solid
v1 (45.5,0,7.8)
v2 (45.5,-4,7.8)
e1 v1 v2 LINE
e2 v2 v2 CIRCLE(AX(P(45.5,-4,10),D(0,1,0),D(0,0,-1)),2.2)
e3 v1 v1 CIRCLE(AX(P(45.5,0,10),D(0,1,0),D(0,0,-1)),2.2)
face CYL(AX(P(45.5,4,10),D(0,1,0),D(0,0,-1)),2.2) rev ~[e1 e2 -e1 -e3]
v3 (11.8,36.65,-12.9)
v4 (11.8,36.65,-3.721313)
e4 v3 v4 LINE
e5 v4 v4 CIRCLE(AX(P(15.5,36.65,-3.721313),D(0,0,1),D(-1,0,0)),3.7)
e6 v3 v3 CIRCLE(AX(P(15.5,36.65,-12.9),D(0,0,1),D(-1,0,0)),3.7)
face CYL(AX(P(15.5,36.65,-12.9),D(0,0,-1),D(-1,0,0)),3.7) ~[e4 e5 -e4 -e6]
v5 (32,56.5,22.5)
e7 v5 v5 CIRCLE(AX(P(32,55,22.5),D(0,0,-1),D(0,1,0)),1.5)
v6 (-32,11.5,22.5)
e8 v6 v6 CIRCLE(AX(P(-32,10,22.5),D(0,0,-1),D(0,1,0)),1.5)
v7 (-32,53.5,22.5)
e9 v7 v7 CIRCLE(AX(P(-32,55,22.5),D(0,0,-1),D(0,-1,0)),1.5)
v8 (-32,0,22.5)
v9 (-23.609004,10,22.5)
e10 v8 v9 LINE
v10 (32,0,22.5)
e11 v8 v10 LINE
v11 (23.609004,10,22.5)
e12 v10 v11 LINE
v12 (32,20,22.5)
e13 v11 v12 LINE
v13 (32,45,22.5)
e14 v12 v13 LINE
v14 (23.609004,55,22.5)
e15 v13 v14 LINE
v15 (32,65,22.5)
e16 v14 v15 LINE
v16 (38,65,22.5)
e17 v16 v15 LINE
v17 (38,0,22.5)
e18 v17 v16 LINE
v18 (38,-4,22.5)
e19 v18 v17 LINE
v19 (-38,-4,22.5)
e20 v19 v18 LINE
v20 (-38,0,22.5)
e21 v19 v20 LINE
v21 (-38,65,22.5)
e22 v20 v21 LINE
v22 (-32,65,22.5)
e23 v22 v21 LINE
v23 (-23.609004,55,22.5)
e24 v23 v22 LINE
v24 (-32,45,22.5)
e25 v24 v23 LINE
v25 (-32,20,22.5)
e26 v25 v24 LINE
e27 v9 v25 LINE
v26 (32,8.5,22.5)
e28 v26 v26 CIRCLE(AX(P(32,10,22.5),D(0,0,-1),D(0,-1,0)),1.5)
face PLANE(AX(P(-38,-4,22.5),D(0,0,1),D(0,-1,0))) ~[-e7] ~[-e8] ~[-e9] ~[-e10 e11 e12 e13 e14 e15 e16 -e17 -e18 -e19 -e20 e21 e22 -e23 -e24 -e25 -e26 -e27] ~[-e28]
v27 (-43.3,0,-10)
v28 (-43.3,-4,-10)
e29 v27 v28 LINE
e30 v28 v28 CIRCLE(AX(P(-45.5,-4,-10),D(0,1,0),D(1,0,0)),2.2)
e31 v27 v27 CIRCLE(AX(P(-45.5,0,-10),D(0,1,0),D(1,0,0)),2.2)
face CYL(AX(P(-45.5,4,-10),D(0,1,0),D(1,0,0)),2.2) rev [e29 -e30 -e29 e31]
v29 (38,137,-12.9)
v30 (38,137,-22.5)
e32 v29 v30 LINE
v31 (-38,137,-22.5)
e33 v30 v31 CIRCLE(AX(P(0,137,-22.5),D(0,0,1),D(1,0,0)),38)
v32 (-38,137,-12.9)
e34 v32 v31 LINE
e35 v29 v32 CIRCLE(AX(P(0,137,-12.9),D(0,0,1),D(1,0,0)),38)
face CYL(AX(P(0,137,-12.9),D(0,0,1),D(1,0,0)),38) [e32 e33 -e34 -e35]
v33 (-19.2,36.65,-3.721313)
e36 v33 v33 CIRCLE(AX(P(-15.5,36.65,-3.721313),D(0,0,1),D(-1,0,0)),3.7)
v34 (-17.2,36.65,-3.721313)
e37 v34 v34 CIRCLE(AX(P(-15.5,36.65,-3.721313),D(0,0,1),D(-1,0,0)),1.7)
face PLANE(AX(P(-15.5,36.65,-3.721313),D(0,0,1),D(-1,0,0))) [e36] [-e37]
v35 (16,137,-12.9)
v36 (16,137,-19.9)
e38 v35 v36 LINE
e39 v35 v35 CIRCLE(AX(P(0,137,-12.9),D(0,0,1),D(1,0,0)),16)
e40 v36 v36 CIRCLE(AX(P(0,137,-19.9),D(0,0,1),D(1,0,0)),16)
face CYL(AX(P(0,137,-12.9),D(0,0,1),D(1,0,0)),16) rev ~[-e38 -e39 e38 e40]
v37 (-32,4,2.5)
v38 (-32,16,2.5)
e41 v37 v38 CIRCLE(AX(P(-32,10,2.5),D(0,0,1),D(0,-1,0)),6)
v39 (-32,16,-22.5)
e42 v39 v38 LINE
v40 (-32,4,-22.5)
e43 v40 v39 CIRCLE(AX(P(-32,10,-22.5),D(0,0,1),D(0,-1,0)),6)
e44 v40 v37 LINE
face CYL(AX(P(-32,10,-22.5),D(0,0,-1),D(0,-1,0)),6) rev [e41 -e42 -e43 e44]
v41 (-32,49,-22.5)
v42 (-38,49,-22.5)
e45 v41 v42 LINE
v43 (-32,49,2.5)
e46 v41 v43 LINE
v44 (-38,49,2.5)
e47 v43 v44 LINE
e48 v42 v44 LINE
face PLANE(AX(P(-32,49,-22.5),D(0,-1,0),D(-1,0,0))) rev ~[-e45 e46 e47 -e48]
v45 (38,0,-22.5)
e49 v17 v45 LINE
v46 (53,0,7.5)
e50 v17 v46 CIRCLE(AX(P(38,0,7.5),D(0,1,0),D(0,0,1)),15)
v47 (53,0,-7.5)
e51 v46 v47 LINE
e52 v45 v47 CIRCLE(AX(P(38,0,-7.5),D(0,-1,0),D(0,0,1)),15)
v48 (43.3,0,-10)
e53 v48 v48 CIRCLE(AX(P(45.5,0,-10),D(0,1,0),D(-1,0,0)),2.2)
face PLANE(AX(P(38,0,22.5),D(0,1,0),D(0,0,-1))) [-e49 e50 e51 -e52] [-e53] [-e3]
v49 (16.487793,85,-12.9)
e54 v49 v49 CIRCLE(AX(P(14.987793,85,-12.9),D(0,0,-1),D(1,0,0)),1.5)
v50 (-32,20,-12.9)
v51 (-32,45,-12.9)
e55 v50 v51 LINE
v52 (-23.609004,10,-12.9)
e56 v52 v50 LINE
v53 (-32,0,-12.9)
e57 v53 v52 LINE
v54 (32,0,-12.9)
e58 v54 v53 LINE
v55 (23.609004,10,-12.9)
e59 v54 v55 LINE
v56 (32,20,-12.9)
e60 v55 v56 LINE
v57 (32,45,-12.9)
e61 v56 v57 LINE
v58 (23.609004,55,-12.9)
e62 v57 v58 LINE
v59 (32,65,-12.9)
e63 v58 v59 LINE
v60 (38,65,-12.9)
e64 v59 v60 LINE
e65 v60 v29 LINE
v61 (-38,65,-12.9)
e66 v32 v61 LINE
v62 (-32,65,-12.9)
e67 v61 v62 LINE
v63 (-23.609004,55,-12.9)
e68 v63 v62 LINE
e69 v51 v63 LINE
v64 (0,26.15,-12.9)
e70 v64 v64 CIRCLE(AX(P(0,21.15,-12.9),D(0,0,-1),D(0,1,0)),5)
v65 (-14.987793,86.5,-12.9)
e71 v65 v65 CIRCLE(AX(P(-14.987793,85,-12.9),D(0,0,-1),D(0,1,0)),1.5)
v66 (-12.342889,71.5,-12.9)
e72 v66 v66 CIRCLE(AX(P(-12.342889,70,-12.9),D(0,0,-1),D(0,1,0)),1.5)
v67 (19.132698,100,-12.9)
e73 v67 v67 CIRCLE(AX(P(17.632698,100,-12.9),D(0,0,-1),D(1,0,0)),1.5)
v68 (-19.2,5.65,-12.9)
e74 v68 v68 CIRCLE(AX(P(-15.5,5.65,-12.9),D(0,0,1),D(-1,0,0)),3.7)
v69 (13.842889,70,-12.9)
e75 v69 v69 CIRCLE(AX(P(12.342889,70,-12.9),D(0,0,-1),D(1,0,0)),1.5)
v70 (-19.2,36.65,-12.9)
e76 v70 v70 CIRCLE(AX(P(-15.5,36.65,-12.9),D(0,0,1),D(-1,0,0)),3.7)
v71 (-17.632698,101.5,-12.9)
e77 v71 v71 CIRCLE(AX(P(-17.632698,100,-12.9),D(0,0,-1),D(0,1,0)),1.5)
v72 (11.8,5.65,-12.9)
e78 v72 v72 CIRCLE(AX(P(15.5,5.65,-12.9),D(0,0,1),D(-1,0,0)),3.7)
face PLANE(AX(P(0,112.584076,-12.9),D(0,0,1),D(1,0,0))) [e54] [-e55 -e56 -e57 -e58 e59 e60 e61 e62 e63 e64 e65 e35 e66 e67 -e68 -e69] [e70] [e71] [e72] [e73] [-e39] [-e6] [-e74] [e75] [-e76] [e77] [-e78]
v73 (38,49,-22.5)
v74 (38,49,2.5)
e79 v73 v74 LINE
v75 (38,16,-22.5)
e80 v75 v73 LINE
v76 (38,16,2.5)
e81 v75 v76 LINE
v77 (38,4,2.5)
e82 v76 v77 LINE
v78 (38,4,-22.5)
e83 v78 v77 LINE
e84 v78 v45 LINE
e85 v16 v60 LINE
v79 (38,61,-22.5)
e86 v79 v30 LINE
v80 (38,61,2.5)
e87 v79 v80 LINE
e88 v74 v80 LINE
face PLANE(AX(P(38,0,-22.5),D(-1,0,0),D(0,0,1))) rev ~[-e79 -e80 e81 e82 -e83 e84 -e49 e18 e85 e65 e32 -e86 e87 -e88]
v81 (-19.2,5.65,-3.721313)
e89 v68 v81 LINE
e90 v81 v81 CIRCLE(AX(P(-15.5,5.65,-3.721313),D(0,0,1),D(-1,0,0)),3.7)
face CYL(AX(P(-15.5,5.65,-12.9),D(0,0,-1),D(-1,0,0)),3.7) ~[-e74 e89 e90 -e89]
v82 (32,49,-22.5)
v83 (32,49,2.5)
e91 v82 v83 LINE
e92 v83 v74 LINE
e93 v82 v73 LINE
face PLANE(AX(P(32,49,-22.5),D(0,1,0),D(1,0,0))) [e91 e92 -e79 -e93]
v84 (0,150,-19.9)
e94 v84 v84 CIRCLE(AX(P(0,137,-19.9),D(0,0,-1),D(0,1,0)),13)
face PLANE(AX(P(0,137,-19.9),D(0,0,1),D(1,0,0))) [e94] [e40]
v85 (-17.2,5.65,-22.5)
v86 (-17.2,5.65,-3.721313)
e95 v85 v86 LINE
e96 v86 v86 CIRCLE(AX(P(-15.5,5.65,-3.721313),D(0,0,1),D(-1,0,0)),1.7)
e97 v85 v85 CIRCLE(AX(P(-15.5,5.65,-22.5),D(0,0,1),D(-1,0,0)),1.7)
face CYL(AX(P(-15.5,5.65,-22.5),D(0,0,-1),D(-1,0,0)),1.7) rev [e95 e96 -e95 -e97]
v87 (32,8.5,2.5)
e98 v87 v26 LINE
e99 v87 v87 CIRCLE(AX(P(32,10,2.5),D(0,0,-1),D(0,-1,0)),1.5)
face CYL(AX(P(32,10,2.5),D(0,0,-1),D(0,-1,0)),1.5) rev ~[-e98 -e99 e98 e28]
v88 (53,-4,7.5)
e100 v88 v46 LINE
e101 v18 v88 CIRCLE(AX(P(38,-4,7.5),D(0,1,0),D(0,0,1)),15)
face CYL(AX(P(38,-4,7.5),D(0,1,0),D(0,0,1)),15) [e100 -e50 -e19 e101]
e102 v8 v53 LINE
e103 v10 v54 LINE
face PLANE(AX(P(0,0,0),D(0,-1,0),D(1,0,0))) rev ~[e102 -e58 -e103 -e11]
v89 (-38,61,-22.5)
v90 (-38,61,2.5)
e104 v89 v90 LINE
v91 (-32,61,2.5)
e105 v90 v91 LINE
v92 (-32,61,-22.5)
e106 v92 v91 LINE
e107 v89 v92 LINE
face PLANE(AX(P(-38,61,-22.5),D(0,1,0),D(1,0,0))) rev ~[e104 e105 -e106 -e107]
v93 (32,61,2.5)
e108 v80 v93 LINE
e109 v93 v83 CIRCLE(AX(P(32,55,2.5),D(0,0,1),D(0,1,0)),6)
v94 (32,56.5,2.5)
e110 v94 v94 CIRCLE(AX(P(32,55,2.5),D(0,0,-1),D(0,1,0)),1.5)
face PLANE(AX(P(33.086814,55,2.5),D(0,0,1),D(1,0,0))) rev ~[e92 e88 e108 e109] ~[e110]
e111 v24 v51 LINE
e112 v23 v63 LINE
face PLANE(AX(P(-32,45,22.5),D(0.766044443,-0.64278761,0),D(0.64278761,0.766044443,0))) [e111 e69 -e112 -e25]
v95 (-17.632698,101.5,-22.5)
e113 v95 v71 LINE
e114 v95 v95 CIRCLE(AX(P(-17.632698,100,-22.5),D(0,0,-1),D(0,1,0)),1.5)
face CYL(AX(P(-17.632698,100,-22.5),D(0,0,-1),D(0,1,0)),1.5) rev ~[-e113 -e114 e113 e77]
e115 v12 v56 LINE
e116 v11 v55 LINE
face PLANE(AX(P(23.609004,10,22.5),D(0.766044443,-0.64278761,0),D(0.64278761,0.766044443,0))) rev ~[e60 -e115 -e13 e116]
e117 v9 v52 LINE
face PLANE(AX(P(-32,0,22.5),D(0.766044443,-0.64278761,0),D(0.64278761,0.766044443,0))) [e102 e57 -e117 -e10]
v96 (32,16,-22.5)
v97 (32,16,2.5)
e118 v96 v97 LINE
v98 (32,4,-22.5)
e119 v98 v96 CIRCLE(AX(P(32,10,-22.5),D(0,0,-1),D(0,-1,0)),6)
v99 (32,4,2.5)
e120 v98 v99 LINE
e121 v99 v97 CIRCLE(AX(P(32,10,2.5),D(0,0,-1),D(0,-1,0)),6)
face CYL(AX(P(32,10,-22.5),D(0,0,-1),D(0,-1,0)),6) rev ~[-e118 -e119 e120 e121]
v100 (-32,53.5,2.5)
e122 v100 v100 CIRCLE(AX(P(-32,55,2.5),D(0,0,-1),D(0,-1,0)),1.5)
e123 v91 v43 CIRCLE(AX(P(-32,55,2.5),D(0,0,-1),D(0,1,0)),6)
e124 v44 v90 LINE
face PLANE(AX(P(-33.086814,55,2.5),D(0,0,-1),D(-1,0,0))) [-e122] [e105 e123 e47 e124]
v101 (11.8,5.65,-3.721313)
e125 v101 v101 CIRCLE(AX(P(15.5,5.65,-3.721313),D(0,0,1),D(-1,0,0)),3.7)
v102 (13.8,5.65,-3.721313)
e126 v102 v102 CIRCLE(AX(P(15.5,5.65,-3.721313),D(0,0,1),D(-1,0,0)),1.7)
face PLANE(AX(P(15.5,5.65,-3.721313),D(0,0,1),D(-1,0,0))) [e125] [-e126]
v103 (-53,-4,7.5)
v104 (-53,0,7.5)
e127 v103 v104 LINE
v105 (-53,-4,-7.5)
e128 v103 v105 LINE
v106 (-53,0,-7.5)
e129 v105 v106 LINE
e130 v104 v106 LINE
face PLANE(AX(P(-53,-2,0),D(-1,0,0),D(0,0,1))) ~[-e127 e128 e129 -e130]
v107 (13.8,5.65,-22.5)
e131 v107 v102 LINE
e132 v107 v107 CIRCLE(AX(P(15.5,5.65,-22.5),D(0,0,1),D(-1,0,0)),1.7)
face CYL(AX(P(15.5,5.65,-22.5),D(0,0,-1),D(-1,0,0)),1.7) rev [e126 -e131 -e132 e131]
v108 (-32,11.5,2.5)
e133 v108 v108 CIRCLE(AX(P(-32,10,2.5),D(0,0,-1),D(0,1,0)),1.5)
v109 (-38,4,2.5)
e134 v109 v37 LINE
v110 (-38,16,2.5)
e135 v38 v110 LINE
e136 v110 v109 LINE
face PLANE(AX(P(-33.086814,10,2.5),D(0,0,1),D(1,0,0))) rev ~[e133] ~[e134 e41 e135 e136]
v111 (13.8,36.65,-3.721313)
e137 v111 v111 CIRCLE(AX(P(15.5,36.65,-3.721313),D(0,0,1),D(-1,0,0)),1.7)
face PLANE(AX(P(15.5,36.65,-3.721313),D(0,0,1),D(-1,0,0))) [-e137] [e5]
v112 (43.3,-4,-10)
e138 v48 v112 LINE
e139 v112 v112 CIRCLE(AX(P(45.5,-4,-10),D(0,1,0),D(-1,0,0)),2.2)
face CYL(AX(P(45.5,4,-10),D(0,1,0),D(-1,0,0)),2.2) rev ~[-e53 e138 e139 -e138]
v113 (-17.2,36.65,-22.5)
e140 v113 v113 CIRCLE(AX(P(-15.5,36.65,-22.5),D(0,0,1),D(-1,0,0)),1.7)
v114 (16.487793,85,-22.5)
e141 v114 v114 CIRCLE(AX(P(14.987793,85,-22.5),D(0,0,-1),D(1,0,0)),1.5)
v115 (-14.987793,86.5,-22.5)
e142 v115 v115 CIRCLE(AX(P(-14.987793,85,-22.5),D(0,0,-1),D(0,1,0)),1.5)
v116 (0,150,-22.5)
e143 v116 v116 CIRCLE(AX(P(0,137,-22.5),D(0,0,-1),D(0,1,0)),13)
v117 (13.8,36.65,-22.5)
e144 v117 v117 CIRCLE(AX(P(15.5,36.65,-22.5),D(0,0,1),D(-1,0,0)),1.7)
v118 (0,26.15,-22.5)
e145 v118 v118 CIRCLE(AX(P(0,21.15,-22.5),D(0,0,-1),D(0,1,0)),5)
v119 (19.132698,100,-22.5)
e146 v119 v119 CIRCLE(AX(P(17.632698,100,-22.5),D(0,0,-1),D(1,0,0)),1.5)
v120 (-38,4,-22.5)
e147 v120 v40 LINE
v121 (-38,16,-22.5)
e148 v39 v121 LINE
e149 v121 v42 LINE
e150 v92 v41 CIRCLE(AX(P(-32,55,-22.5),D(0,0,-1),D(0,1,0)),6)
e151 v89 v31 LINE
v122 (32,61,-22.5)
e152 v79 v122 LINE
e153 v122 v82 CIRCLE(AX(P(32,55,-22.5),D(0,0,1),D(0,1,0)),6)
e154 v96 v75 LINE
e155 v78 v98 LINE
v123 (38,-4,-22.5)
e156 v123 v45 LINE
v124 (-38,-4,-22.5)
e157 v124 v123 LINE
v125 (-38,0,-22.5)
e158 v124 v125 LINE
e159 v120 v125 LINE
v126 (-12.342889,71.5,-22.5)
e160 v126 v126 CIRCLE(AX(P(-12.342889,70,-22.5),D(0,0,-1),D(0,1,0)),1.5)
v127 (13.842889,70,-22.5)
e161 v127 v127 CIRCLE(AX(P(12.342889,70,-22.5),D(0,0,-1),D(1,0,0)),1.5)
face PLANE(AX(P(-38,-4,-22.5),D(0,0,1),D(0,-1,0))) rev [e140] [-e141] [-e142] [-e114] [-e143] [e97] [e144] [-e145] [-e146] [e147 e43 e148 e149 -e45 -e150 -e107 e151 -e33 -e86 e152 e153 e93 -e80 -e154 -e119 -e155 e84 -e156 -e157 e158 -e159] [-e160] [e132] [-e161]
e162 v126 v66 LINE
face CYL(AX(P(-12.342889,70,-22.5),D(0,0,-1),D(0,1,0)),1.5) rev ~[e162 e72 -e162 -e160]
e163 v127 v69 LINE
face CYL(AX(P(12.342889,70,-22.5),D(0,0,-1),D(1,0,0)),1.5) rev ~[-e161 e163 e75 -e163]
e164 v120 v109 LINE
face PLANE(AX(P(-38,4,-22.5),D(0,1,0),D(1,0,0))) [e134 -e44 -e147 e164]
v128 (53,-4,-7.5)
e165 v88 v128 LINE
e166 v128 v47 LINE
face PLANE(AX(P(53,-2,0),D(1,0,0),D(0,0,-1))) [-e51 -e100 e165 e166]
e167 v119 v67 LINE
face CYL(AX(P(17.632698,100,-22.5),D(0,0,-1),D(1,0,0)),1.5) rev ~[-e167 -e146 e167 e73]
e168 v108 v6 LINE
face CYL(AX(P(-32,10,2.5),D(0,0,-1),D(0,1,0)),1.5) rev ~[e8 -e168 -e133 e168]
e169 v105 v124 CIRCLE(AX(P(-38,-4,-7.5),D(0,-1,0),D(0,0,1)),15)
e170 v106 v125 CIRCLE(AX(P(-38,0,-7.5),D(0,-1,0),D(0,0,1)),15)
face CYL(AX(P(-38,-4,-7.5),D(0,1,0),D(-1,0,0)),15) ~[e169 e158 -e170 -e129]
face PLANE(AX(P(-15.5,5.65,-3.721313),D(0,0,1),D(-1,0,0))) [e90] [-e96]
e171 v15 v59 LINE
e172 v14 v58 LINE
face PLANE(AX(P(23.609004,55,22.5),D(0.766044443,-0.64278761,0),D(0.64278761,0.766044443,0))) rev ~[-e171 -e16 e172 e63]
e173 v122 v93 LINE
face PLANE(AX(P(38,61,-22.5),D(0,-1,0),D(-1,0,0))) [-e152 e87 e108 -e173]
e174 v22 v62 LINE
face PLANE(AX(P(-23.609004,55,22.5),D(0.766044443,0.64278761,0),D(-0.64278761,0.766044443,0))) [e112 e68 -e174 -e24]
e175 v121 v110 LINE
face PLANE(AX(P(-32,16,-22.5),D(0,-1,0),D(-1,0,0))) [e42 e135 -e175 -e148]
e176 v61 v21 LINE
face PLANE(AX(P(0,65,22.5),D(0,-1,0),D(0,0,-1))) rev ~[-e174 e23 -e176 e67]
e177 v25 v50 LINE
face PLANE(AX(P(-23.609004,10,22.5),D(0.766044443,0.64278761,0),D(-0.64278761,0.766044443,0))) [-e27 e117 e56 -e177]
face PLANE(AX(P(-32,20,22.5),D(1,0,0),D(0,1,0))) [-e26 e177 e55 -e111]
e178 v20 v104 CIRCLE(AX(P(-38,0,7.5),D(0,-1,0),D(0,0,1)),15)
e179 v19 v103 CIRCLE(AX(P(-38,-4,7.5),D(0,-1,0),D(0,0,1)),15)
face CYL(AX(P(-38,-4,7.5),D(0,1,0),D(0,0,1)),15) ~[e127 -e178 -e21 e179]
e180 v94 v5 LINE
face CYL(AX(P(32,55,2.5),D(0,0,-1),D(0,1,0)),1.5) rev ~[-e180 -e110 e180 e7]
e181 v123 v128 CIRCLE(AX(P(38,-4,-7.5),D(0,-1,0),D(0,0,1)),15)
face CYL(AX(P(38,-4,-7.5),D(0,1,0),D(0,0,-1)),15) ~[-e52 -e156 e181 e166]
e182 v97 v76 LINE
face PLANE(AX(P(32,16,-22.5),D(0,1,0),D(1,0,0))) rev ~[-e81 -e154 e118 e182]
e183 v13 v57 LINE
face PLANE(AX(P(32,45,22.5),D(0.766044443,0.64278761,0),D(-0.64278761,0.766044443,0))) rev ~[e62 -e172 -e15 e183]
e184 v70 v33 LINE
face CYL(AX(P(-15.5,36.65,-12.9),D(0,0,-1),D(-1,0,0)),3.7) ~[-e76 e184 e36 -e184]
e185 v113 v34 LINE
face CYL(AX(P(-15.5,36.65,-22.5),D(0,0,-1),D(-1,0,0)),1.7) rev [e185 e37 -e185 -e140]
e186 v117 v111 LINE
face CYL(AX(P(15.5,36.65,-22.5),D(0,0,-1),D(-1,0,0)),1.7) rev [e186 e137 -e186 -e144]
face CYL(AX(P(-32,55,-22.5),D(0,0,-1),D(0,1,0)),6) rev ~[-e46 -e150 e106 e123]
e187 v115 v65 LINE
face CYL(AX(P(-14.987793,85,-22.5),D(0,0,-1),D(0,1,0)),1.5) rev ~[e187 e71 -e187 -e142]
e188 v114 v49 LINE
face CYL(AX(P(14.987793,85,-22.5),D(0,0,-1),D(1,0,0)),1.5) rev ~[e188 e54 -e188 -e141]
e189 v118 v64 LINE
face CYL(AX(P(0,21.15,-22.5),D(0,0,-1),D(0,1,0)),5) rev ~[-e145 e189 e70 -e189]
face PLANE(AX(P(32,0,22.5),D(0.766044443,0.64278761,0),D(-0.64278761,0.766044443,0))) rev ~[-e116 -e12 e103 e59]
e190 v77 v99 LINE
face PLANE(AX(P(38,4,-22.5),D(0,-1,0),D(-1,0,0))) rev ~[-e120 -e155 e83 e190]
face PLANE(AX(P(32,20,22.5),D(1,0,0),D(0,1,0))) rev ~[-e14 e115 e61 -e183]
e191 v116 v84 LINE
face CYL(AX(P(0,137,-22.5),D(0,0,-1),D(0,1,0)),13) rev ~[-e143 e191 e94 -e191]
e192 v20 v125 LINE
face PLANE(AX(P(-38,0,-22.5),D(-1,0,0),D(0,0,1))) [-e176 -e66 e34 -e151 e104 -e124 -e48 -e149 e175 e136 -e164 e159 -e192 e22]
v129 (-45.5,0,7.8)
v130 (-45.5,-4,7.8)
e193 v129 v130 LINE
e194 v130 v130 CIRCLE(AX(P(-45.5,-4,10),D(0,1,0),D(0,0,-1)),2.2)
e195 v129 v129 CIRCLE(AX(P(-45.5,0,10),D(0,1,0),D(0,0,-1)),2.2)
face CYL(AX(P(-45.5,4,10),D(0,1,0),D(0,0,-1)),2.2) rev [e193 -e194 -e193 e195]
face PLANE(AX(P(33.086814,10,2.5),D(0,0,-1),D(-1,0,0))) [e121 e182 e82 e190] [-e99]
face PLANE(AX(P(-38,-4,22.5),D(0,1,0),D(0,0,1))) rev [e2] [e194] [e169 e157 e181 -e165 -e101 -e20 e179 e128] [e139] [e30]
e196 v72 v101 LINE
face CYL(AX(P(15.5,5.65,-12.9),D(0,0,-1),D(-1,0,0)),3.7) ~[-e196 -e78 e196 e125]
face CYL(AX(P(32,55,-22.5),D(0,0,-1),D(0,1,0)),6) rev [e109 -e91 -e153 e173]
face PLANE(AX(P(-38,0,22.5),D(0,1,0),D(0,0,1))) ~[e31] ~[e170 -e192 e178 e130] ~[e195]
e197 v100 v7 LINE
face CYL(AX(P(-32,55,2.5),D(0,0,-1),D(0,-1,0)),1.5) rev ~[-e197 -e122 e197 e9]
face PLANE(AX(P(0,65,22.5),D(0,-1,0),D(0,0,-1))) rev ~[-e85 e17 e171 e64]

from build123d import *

# Parameters (mm, degrees)
SKIZZE1_W                       = 45
SKIZZE1_H                       = 65
AUFSATZ_LINEAR_AUSTRAGEN1_DEPTH = 38
SKIZZE2_OUTSIDE_W               = 99.932
SKIZZE2_OUTSIDE_H               = 88.932
SCHNITT_LINEAR_AUSTRAGEN1_DEPTH = 35.4
SCHNITT_LINEAR_AUSTRAGEN2_DEPTH = 25
SKIZZE4_R                       = 1.5
SCHNITT_LINEAR_AUSTRAGEN3_DEPTH = 80.334733881
AUFSATZ_LINEAR_AUSTRAGEN2_DEPTH = 9.6
SKIZZE6_R                       = 16
SCHNITT_LINEAR_AUSTRAGEN4_DEPTH = 7
SKIZZE8_R                       = 13
SCHNITT_LINEAR_AUSTRAGEN5_DEPTH = 185.645606501
SKIZZE9_R                       = 1.5
SCHNITT_LINEAR_AUSTRAGEN6_DEPTH = 185.645606501
SKIZZE12_W                      = 76
SKIZZE12_H                      = 45
AUFSATZ_LINEAR_AUSTRAGEN4_DEPTH = 4
SKIZZE10_W                      = 45
SKIZZE10_H                      = 4
AUFSATZ_LINEAR_AUSTRAGEN3_DEPTH = 15
VERRUNDUNG1_R                   = 15
SKIZZE11_R                      = 2.2
SCHNITT_LINEAR_AUSTRAGEN7_DEPTH = 181.433505758
VERRUNDUNG1_OF_SPIEGELN1_R      = 15
SKIZZE13_R                      = 3.7
SKIZZE13_R_2                    = 1.7
AUFSATZ_LINEAR_AUSTRAGEN5_DEPTH = 9.178687268
SCHNITT_LINEAR_START            = -9.6
SKIZZE14_R                      = 1.7
SCHNITT_LINEAR_AUSTRAGEN8_DEPTH = 9.6
SKIZZE15_R                      = 5
SCHNITT_LINEAR_AUSTRAGEN9_DEPTH = 9.6


with BuildPart() as part:
    # Skizze1 → Aufsatz-Linear austragen1 (new, symmetric)
    with BuildSketch(Plane(origin=(0, 0, 0), x_dir=(0, 0, -1), z_dir=(1, 0, 0))):
        with Locations((0, 32.5)):
            Rectangle(SKIZZE1_W, SKIZZE1_H)
    extrude(amount=AUFSATZ_LINEAR_AUSTRAGEN1_DEPTH, both=True)

    # Skizze2 outside → Schnitt-Linear austragen1 (cut)
    with BuildSketch(Plane.XY.offset(22.5)):
        with Locations((0, 32.5)):
            Rectangle(SKIZZE2_OUTSIDE_W, SKIZZE2_OUTSIDE_H)
        Polygon((-38, 0), (-32, 0), (-23.609003688, 10), (-32, 20), (-32, 45), (-23.609003688, 55), (-32, 65), (-38, 65), align=None, mode=Mode.SUBTRACT)
        Polygon((38, 65), (38, 0), (32, 0), (23.609003688, 10), (32, 20), (32, 45), (23.609003688, 55), (32, 65), align=None, mode=Mode.SUBTRACT)
    extrude(amount=-SCHNITT_LINEAR_AUSTRAGEN1_DEPTH, mode=Mode.SUBTRACT)

    # Skizze3 → Schnitt-Linear austragen2 (cut)
    with BuildSketch(Plane(origin=(0, 0, -22.5), x_dir=(-1, 0, 0), z_dir=(0, 0, -1))):
        with BuildLine():
            Line((-32, 16), (-38, 16))
            Line((-38, 16), (-38, 4))
            Line((-38, 4), (-32, 4))
            ThreePointArc((-32, 4), (-26, 10), (-32, 16))
        make_face()
        with BuildLine():
            Line((38, 16), (38, 4))
            Line((38, 4), (32, 4))
            ThreePointArc((32, 4), (26, 10), (32, 16))
            Line((32, 16), (38, 16))
        make_face()
        with BuildLine():
            Line((32, 49), (38, 49))
            Line((38, 49), (38, 61))
            Line((38, 61), (32, 61))
            ThreePointArc((32, 61), (26, 55), (32, 49))
        make_face()
        with BuildLine():
            Line((-38, 49), (-38, 61))
            Line((-38, 61), (-32, 61))
            ThreePointArc((-32, 61), (-26, 55), (-32, 49))
            Line((-32, 49), (-38, 49))
        make_face()
    extrude(amount=-SCHNITT_LINEAR_AUSTRAGEN2_DEPTH, mode=Mode.SUBTRACT)

    # Skizze4 → Schnitt-Linear austragen3 (cut, through all)
    with BuildSketch(Plane(origin=(0, 0, 2.5), x_dir=(-1, 0, 0), z_dir=(0, 0, -1))):
        with Locations(Location((32, 10, 0), (0, 0, 90))):
            Circle(SKIZZE4_R)
        with Locations(Location((-32, 10, 0), (0, 0, 270))):
            Circle(SKIZZE4_R)
        with Locations(Location((-32, 55, 0), (0, 0, 90))):
            Circle(SKIZZE4_R)
        with Locations(Location((32, 55, 0), (0, 0, 270))):
            Circle(SKIZZE4_R)
    extrude(amount=-SCHNITT_LINEAR_AUSTRAGEN3_DEPTH, mode=Mode.SUBTRACT)

    # Skizze5 → Aufsatz-Linear austragen2 (add)
    with BuildSketch(Plane.XY.offset(-12.9)):
        with BuildLine():
            Line((-38, 65), (38, 65))
            Line((38, 65), (38, 137))
            ThreePointArc((38, 137), (0, 175), (-38, 137))
            Line((-38, 137), (-38, 65))
        make_face()
    extrude(amount=-AUFSATZ_LINEAR_AUSTRAGEN2_DEPTH)

    # Skizze6 → Schnitt-Linear austragen4 (cut)
    with BuildSketch(Plane.XY.offset(-12.9)):
        with Locations((0, 137)):
            Circle(SKIZZE6_R)
    extrude(amount=-SCHNITT_LINEAR_AUSTRAGEN4_DEPTH, mode=Mode.SUBTRACT)

    # Skizze8 → Schnitt-Linear austragen5 (cut, through all)
    with BuildSketch(Plane(origin=(0, 0, -22.5), x_dir=(-1, 0, 0), z_dir=(0, 0, -1))):
        with Locations(Location((0, 137, 0), (0, 0, 90))):
            Circle(SKIZZE8_R)
    extrude(amount=-SCHNITT_LINEAR_AUSTRAGEN5_DEPTH, mode=Mode.SUBTRACT)

    # Skizze9 → Schnitt-Linear austragen6 (cut, through all)
    with BuildSketch(Plane(origin=(0, 0, -22.5), x_dir=(-1, 0, 0), z_dir=(0, 0, -1))):
        with Locations(Location((12.34288865, 70, 0), (0, 0, 90))):
            Circle(SKIZZE9_R)
        with Locations(Location((14.98779336, 85, 0), (0, 0, 90))):
            Circle(SKIZZE9_R)
        with Locations(Location((17.632698071, 100, 0), (0, 0, 90))):
            Circle(SKIZZE9_R)
        with Locations(Location((-12.34288865, 70, 0), (0, 0, 180))):
            Circle(SKIZZE9_R)
        with Locations(Location((-17.632698071, 100, 0), (0, 0, 180))):
            Circle(SKIZZE9_R)
        with Locations(Location((-14.98779336, 85, 0), (0, 0, 180))):
            Circle(SKIZZE9_R)
    extrude(amount=-SCHNITT_LINEAR_AUSTRAGEN6_DEPTH, mode=Mode.SUBTRACT)

    # Skizze12 → Aufsatz-Linear austragen4 (add)
    with BuildSketch(Plane.XZ):
        Rectangle(SKIZZE12_W, SKIZZE12_H)
    extrude(amount=AUFSATZ_LINEAR_AUSTRAGEN4_DEPTH)

    # Skizze10 → Aufsatz-Linear austragen3 (add)
    with BuildSketch(Plane(origin=(38, 0, 0), x_dir=(0, 0, -1), z_dir=(1, 0, 0))):
        with Locations((0, -2)):
            Rectangle(SKIZZE10_W, SKIZZE10_H)
    aufsatz_linear_austragen3 = extrude(amount=AUFSATZ_LINEAR_AUSTRAGEN3_DEPTH)

    # Verrundung1
    verrundung1_edges = [part.edges().sort_by_distance(p)[0] for p in [
        (53, -2, 22.5),
        (53, -2, -22.5),
    ]]
    fillet(verrundung1_edges, radius=VERRUNDUNG1_R)

    # Skizze11 → Schnitt-Linear austragen7 (cut, through all)
    with BuildSketch(Plane(origin=(0, 4, 0), x_dir=(1, 0, 0), z_dir=(0, 1, 0))):
        with Locations(Location((45.5, 10, 0), (0, 0, 180))):
            Circle(SKIZZE11_R)
        with Locations(Location((45.5, -10, 0), (0, 0, 90))):
            Circle(SKIZZE11_R)
    schnitt_linear_austragen7 = extrude(amount=-SCHNITT_LINEAR_AUSTRAGEN7_DEPTH, mode=Mode.SUBTRACT)

    # Spiegeln1: Aufsatz-Linear austragen3, Schnitt-Linear austragen7 across plane
    add(aufsatz_linear_austragen3.mirror(Plane(origin=(0, 0, 0), x_dir=(0, 0, 1), z_dir=(1, 0, 0))))
    add(schnitt_linear_austragen7.mirror(Plane(origin=(0, 0, 0), x_dir=(0, 0, 1), z_dir=(1, 0, 0))), mode=Mode.SUBTRACT)

    # Verrundung1 of Spiegeln1
    verrundung1_of_spiegeln1_edges = [part.edges().sort_by_distance(p)[0] for p in [
        (-53, -2, 22.5),
        (-53, -2, -22.5),
    ]]
    fillet(verrundung1_of_spiegeln1_edges, radius=VERRUNDUNG1_OF_SPIEGELN1_R)

    # Skizze13 → Aufsatz-Linear austragen5 (add)
    # profile 1 of 4: a face of its own
    with BuildSketch(Plane.XY.offset(-12.9)):
        with Locations(Location((-15.5, 36.65, 0), (0, 0, 180))):
            Circle(SKIZZE13_R)
        with Locations(Location((-15.5, 36.65, 0), (0, 0, 180))):
            Circle(SKIZZE13_R_2, mode=Mode.SUBTRACT)
    # profile 2 of 4: a face of its own
    with BuildSketch(Plane.XY.offset(-12.9)):
        with Locations(Location((15.5, 36.65, 0), (0, 0, 180))):
            Circle(SKIZZE13_R)
        with Locations(Location((15.5, 36.65, 0), (0, 0, 180))):
            Circle(SKIZZE13_R_2, mode=Mode.SUBTRACT)
    # profile 3 of 4: a face of its own
    with BuildSketch(Plane.XY.offset(-12.9)):
        with Locations(Location((15.5, 5.65, 0), (0, 0, 180))):
            Circle(SKIZZE13_R)
        with Locations(Location((15.5, 5.65, 0), (0, 0, 180))):
            Circle(SKIZZE13_R_2, mode=Mode.SUBTRACT)
    # profile 4 of 4: a face of its own
    with BuildSketch(Plane.XY.offset(-12.9)):
        with Locations(Location((-15.5, 5.65, 0), (0, 0, 180))):
            Circle(SKIZZE13_R)
        with Locations(Location((-15.5, 5.65, 0), (0, 0, 180))):
            Circle(SKIZZE13_R_2, mode=Mode.SUBTRACT)
    extrude(amount=AUFSATZ_LINEAR_AUSTRAGEN5_DEPTH)

    # Skizze14 → Schnitt-Linear austragen8 (cut)
    with BuildSketch(Plane.XY.offset(-12.9).offset(SCHNITT_LINEAR_START)):
        with Locations(Location((-15.5, 5.65, 0), (0, 0, 180))):
            Circle(SKIZZE14_R)
        with Locations(Location((15.5, 5.65, 0), (0, 0, 180))):
            Circle(SKIZZE14_R)
        with Locations(Location((15.5, 36.65, 0), (0, 0, 180))):
            Circle(SKIZZE14_R)
        with Locations(Location((-15.5, 36.65, 0), (0, 0, 180))):
            Circle(SKIZZE14_R)
    extrude(amount=SCHNITT_LINEAR_AUSTRAGEN8_DEPTH, mode=Mode.SUBTRACT)

    # Skizze15 → Schnitt-Linear austragen9 (cut)
    with BuildSketch(Plane(origin=(0, 0, -22.5), x_dir=(-1, 0, 0), z_dir=(0, 0, -1))):
        with Locations(Location((0, 21.15, 0), (0, 0, 90))):
            Circle(SKIZZE15_R)
    extrude(amount=-SCHNITT_LINEAR_AUSTRAGEN9_DEPTH, mode=Mode.SUBTRACT)


solid = part.part
